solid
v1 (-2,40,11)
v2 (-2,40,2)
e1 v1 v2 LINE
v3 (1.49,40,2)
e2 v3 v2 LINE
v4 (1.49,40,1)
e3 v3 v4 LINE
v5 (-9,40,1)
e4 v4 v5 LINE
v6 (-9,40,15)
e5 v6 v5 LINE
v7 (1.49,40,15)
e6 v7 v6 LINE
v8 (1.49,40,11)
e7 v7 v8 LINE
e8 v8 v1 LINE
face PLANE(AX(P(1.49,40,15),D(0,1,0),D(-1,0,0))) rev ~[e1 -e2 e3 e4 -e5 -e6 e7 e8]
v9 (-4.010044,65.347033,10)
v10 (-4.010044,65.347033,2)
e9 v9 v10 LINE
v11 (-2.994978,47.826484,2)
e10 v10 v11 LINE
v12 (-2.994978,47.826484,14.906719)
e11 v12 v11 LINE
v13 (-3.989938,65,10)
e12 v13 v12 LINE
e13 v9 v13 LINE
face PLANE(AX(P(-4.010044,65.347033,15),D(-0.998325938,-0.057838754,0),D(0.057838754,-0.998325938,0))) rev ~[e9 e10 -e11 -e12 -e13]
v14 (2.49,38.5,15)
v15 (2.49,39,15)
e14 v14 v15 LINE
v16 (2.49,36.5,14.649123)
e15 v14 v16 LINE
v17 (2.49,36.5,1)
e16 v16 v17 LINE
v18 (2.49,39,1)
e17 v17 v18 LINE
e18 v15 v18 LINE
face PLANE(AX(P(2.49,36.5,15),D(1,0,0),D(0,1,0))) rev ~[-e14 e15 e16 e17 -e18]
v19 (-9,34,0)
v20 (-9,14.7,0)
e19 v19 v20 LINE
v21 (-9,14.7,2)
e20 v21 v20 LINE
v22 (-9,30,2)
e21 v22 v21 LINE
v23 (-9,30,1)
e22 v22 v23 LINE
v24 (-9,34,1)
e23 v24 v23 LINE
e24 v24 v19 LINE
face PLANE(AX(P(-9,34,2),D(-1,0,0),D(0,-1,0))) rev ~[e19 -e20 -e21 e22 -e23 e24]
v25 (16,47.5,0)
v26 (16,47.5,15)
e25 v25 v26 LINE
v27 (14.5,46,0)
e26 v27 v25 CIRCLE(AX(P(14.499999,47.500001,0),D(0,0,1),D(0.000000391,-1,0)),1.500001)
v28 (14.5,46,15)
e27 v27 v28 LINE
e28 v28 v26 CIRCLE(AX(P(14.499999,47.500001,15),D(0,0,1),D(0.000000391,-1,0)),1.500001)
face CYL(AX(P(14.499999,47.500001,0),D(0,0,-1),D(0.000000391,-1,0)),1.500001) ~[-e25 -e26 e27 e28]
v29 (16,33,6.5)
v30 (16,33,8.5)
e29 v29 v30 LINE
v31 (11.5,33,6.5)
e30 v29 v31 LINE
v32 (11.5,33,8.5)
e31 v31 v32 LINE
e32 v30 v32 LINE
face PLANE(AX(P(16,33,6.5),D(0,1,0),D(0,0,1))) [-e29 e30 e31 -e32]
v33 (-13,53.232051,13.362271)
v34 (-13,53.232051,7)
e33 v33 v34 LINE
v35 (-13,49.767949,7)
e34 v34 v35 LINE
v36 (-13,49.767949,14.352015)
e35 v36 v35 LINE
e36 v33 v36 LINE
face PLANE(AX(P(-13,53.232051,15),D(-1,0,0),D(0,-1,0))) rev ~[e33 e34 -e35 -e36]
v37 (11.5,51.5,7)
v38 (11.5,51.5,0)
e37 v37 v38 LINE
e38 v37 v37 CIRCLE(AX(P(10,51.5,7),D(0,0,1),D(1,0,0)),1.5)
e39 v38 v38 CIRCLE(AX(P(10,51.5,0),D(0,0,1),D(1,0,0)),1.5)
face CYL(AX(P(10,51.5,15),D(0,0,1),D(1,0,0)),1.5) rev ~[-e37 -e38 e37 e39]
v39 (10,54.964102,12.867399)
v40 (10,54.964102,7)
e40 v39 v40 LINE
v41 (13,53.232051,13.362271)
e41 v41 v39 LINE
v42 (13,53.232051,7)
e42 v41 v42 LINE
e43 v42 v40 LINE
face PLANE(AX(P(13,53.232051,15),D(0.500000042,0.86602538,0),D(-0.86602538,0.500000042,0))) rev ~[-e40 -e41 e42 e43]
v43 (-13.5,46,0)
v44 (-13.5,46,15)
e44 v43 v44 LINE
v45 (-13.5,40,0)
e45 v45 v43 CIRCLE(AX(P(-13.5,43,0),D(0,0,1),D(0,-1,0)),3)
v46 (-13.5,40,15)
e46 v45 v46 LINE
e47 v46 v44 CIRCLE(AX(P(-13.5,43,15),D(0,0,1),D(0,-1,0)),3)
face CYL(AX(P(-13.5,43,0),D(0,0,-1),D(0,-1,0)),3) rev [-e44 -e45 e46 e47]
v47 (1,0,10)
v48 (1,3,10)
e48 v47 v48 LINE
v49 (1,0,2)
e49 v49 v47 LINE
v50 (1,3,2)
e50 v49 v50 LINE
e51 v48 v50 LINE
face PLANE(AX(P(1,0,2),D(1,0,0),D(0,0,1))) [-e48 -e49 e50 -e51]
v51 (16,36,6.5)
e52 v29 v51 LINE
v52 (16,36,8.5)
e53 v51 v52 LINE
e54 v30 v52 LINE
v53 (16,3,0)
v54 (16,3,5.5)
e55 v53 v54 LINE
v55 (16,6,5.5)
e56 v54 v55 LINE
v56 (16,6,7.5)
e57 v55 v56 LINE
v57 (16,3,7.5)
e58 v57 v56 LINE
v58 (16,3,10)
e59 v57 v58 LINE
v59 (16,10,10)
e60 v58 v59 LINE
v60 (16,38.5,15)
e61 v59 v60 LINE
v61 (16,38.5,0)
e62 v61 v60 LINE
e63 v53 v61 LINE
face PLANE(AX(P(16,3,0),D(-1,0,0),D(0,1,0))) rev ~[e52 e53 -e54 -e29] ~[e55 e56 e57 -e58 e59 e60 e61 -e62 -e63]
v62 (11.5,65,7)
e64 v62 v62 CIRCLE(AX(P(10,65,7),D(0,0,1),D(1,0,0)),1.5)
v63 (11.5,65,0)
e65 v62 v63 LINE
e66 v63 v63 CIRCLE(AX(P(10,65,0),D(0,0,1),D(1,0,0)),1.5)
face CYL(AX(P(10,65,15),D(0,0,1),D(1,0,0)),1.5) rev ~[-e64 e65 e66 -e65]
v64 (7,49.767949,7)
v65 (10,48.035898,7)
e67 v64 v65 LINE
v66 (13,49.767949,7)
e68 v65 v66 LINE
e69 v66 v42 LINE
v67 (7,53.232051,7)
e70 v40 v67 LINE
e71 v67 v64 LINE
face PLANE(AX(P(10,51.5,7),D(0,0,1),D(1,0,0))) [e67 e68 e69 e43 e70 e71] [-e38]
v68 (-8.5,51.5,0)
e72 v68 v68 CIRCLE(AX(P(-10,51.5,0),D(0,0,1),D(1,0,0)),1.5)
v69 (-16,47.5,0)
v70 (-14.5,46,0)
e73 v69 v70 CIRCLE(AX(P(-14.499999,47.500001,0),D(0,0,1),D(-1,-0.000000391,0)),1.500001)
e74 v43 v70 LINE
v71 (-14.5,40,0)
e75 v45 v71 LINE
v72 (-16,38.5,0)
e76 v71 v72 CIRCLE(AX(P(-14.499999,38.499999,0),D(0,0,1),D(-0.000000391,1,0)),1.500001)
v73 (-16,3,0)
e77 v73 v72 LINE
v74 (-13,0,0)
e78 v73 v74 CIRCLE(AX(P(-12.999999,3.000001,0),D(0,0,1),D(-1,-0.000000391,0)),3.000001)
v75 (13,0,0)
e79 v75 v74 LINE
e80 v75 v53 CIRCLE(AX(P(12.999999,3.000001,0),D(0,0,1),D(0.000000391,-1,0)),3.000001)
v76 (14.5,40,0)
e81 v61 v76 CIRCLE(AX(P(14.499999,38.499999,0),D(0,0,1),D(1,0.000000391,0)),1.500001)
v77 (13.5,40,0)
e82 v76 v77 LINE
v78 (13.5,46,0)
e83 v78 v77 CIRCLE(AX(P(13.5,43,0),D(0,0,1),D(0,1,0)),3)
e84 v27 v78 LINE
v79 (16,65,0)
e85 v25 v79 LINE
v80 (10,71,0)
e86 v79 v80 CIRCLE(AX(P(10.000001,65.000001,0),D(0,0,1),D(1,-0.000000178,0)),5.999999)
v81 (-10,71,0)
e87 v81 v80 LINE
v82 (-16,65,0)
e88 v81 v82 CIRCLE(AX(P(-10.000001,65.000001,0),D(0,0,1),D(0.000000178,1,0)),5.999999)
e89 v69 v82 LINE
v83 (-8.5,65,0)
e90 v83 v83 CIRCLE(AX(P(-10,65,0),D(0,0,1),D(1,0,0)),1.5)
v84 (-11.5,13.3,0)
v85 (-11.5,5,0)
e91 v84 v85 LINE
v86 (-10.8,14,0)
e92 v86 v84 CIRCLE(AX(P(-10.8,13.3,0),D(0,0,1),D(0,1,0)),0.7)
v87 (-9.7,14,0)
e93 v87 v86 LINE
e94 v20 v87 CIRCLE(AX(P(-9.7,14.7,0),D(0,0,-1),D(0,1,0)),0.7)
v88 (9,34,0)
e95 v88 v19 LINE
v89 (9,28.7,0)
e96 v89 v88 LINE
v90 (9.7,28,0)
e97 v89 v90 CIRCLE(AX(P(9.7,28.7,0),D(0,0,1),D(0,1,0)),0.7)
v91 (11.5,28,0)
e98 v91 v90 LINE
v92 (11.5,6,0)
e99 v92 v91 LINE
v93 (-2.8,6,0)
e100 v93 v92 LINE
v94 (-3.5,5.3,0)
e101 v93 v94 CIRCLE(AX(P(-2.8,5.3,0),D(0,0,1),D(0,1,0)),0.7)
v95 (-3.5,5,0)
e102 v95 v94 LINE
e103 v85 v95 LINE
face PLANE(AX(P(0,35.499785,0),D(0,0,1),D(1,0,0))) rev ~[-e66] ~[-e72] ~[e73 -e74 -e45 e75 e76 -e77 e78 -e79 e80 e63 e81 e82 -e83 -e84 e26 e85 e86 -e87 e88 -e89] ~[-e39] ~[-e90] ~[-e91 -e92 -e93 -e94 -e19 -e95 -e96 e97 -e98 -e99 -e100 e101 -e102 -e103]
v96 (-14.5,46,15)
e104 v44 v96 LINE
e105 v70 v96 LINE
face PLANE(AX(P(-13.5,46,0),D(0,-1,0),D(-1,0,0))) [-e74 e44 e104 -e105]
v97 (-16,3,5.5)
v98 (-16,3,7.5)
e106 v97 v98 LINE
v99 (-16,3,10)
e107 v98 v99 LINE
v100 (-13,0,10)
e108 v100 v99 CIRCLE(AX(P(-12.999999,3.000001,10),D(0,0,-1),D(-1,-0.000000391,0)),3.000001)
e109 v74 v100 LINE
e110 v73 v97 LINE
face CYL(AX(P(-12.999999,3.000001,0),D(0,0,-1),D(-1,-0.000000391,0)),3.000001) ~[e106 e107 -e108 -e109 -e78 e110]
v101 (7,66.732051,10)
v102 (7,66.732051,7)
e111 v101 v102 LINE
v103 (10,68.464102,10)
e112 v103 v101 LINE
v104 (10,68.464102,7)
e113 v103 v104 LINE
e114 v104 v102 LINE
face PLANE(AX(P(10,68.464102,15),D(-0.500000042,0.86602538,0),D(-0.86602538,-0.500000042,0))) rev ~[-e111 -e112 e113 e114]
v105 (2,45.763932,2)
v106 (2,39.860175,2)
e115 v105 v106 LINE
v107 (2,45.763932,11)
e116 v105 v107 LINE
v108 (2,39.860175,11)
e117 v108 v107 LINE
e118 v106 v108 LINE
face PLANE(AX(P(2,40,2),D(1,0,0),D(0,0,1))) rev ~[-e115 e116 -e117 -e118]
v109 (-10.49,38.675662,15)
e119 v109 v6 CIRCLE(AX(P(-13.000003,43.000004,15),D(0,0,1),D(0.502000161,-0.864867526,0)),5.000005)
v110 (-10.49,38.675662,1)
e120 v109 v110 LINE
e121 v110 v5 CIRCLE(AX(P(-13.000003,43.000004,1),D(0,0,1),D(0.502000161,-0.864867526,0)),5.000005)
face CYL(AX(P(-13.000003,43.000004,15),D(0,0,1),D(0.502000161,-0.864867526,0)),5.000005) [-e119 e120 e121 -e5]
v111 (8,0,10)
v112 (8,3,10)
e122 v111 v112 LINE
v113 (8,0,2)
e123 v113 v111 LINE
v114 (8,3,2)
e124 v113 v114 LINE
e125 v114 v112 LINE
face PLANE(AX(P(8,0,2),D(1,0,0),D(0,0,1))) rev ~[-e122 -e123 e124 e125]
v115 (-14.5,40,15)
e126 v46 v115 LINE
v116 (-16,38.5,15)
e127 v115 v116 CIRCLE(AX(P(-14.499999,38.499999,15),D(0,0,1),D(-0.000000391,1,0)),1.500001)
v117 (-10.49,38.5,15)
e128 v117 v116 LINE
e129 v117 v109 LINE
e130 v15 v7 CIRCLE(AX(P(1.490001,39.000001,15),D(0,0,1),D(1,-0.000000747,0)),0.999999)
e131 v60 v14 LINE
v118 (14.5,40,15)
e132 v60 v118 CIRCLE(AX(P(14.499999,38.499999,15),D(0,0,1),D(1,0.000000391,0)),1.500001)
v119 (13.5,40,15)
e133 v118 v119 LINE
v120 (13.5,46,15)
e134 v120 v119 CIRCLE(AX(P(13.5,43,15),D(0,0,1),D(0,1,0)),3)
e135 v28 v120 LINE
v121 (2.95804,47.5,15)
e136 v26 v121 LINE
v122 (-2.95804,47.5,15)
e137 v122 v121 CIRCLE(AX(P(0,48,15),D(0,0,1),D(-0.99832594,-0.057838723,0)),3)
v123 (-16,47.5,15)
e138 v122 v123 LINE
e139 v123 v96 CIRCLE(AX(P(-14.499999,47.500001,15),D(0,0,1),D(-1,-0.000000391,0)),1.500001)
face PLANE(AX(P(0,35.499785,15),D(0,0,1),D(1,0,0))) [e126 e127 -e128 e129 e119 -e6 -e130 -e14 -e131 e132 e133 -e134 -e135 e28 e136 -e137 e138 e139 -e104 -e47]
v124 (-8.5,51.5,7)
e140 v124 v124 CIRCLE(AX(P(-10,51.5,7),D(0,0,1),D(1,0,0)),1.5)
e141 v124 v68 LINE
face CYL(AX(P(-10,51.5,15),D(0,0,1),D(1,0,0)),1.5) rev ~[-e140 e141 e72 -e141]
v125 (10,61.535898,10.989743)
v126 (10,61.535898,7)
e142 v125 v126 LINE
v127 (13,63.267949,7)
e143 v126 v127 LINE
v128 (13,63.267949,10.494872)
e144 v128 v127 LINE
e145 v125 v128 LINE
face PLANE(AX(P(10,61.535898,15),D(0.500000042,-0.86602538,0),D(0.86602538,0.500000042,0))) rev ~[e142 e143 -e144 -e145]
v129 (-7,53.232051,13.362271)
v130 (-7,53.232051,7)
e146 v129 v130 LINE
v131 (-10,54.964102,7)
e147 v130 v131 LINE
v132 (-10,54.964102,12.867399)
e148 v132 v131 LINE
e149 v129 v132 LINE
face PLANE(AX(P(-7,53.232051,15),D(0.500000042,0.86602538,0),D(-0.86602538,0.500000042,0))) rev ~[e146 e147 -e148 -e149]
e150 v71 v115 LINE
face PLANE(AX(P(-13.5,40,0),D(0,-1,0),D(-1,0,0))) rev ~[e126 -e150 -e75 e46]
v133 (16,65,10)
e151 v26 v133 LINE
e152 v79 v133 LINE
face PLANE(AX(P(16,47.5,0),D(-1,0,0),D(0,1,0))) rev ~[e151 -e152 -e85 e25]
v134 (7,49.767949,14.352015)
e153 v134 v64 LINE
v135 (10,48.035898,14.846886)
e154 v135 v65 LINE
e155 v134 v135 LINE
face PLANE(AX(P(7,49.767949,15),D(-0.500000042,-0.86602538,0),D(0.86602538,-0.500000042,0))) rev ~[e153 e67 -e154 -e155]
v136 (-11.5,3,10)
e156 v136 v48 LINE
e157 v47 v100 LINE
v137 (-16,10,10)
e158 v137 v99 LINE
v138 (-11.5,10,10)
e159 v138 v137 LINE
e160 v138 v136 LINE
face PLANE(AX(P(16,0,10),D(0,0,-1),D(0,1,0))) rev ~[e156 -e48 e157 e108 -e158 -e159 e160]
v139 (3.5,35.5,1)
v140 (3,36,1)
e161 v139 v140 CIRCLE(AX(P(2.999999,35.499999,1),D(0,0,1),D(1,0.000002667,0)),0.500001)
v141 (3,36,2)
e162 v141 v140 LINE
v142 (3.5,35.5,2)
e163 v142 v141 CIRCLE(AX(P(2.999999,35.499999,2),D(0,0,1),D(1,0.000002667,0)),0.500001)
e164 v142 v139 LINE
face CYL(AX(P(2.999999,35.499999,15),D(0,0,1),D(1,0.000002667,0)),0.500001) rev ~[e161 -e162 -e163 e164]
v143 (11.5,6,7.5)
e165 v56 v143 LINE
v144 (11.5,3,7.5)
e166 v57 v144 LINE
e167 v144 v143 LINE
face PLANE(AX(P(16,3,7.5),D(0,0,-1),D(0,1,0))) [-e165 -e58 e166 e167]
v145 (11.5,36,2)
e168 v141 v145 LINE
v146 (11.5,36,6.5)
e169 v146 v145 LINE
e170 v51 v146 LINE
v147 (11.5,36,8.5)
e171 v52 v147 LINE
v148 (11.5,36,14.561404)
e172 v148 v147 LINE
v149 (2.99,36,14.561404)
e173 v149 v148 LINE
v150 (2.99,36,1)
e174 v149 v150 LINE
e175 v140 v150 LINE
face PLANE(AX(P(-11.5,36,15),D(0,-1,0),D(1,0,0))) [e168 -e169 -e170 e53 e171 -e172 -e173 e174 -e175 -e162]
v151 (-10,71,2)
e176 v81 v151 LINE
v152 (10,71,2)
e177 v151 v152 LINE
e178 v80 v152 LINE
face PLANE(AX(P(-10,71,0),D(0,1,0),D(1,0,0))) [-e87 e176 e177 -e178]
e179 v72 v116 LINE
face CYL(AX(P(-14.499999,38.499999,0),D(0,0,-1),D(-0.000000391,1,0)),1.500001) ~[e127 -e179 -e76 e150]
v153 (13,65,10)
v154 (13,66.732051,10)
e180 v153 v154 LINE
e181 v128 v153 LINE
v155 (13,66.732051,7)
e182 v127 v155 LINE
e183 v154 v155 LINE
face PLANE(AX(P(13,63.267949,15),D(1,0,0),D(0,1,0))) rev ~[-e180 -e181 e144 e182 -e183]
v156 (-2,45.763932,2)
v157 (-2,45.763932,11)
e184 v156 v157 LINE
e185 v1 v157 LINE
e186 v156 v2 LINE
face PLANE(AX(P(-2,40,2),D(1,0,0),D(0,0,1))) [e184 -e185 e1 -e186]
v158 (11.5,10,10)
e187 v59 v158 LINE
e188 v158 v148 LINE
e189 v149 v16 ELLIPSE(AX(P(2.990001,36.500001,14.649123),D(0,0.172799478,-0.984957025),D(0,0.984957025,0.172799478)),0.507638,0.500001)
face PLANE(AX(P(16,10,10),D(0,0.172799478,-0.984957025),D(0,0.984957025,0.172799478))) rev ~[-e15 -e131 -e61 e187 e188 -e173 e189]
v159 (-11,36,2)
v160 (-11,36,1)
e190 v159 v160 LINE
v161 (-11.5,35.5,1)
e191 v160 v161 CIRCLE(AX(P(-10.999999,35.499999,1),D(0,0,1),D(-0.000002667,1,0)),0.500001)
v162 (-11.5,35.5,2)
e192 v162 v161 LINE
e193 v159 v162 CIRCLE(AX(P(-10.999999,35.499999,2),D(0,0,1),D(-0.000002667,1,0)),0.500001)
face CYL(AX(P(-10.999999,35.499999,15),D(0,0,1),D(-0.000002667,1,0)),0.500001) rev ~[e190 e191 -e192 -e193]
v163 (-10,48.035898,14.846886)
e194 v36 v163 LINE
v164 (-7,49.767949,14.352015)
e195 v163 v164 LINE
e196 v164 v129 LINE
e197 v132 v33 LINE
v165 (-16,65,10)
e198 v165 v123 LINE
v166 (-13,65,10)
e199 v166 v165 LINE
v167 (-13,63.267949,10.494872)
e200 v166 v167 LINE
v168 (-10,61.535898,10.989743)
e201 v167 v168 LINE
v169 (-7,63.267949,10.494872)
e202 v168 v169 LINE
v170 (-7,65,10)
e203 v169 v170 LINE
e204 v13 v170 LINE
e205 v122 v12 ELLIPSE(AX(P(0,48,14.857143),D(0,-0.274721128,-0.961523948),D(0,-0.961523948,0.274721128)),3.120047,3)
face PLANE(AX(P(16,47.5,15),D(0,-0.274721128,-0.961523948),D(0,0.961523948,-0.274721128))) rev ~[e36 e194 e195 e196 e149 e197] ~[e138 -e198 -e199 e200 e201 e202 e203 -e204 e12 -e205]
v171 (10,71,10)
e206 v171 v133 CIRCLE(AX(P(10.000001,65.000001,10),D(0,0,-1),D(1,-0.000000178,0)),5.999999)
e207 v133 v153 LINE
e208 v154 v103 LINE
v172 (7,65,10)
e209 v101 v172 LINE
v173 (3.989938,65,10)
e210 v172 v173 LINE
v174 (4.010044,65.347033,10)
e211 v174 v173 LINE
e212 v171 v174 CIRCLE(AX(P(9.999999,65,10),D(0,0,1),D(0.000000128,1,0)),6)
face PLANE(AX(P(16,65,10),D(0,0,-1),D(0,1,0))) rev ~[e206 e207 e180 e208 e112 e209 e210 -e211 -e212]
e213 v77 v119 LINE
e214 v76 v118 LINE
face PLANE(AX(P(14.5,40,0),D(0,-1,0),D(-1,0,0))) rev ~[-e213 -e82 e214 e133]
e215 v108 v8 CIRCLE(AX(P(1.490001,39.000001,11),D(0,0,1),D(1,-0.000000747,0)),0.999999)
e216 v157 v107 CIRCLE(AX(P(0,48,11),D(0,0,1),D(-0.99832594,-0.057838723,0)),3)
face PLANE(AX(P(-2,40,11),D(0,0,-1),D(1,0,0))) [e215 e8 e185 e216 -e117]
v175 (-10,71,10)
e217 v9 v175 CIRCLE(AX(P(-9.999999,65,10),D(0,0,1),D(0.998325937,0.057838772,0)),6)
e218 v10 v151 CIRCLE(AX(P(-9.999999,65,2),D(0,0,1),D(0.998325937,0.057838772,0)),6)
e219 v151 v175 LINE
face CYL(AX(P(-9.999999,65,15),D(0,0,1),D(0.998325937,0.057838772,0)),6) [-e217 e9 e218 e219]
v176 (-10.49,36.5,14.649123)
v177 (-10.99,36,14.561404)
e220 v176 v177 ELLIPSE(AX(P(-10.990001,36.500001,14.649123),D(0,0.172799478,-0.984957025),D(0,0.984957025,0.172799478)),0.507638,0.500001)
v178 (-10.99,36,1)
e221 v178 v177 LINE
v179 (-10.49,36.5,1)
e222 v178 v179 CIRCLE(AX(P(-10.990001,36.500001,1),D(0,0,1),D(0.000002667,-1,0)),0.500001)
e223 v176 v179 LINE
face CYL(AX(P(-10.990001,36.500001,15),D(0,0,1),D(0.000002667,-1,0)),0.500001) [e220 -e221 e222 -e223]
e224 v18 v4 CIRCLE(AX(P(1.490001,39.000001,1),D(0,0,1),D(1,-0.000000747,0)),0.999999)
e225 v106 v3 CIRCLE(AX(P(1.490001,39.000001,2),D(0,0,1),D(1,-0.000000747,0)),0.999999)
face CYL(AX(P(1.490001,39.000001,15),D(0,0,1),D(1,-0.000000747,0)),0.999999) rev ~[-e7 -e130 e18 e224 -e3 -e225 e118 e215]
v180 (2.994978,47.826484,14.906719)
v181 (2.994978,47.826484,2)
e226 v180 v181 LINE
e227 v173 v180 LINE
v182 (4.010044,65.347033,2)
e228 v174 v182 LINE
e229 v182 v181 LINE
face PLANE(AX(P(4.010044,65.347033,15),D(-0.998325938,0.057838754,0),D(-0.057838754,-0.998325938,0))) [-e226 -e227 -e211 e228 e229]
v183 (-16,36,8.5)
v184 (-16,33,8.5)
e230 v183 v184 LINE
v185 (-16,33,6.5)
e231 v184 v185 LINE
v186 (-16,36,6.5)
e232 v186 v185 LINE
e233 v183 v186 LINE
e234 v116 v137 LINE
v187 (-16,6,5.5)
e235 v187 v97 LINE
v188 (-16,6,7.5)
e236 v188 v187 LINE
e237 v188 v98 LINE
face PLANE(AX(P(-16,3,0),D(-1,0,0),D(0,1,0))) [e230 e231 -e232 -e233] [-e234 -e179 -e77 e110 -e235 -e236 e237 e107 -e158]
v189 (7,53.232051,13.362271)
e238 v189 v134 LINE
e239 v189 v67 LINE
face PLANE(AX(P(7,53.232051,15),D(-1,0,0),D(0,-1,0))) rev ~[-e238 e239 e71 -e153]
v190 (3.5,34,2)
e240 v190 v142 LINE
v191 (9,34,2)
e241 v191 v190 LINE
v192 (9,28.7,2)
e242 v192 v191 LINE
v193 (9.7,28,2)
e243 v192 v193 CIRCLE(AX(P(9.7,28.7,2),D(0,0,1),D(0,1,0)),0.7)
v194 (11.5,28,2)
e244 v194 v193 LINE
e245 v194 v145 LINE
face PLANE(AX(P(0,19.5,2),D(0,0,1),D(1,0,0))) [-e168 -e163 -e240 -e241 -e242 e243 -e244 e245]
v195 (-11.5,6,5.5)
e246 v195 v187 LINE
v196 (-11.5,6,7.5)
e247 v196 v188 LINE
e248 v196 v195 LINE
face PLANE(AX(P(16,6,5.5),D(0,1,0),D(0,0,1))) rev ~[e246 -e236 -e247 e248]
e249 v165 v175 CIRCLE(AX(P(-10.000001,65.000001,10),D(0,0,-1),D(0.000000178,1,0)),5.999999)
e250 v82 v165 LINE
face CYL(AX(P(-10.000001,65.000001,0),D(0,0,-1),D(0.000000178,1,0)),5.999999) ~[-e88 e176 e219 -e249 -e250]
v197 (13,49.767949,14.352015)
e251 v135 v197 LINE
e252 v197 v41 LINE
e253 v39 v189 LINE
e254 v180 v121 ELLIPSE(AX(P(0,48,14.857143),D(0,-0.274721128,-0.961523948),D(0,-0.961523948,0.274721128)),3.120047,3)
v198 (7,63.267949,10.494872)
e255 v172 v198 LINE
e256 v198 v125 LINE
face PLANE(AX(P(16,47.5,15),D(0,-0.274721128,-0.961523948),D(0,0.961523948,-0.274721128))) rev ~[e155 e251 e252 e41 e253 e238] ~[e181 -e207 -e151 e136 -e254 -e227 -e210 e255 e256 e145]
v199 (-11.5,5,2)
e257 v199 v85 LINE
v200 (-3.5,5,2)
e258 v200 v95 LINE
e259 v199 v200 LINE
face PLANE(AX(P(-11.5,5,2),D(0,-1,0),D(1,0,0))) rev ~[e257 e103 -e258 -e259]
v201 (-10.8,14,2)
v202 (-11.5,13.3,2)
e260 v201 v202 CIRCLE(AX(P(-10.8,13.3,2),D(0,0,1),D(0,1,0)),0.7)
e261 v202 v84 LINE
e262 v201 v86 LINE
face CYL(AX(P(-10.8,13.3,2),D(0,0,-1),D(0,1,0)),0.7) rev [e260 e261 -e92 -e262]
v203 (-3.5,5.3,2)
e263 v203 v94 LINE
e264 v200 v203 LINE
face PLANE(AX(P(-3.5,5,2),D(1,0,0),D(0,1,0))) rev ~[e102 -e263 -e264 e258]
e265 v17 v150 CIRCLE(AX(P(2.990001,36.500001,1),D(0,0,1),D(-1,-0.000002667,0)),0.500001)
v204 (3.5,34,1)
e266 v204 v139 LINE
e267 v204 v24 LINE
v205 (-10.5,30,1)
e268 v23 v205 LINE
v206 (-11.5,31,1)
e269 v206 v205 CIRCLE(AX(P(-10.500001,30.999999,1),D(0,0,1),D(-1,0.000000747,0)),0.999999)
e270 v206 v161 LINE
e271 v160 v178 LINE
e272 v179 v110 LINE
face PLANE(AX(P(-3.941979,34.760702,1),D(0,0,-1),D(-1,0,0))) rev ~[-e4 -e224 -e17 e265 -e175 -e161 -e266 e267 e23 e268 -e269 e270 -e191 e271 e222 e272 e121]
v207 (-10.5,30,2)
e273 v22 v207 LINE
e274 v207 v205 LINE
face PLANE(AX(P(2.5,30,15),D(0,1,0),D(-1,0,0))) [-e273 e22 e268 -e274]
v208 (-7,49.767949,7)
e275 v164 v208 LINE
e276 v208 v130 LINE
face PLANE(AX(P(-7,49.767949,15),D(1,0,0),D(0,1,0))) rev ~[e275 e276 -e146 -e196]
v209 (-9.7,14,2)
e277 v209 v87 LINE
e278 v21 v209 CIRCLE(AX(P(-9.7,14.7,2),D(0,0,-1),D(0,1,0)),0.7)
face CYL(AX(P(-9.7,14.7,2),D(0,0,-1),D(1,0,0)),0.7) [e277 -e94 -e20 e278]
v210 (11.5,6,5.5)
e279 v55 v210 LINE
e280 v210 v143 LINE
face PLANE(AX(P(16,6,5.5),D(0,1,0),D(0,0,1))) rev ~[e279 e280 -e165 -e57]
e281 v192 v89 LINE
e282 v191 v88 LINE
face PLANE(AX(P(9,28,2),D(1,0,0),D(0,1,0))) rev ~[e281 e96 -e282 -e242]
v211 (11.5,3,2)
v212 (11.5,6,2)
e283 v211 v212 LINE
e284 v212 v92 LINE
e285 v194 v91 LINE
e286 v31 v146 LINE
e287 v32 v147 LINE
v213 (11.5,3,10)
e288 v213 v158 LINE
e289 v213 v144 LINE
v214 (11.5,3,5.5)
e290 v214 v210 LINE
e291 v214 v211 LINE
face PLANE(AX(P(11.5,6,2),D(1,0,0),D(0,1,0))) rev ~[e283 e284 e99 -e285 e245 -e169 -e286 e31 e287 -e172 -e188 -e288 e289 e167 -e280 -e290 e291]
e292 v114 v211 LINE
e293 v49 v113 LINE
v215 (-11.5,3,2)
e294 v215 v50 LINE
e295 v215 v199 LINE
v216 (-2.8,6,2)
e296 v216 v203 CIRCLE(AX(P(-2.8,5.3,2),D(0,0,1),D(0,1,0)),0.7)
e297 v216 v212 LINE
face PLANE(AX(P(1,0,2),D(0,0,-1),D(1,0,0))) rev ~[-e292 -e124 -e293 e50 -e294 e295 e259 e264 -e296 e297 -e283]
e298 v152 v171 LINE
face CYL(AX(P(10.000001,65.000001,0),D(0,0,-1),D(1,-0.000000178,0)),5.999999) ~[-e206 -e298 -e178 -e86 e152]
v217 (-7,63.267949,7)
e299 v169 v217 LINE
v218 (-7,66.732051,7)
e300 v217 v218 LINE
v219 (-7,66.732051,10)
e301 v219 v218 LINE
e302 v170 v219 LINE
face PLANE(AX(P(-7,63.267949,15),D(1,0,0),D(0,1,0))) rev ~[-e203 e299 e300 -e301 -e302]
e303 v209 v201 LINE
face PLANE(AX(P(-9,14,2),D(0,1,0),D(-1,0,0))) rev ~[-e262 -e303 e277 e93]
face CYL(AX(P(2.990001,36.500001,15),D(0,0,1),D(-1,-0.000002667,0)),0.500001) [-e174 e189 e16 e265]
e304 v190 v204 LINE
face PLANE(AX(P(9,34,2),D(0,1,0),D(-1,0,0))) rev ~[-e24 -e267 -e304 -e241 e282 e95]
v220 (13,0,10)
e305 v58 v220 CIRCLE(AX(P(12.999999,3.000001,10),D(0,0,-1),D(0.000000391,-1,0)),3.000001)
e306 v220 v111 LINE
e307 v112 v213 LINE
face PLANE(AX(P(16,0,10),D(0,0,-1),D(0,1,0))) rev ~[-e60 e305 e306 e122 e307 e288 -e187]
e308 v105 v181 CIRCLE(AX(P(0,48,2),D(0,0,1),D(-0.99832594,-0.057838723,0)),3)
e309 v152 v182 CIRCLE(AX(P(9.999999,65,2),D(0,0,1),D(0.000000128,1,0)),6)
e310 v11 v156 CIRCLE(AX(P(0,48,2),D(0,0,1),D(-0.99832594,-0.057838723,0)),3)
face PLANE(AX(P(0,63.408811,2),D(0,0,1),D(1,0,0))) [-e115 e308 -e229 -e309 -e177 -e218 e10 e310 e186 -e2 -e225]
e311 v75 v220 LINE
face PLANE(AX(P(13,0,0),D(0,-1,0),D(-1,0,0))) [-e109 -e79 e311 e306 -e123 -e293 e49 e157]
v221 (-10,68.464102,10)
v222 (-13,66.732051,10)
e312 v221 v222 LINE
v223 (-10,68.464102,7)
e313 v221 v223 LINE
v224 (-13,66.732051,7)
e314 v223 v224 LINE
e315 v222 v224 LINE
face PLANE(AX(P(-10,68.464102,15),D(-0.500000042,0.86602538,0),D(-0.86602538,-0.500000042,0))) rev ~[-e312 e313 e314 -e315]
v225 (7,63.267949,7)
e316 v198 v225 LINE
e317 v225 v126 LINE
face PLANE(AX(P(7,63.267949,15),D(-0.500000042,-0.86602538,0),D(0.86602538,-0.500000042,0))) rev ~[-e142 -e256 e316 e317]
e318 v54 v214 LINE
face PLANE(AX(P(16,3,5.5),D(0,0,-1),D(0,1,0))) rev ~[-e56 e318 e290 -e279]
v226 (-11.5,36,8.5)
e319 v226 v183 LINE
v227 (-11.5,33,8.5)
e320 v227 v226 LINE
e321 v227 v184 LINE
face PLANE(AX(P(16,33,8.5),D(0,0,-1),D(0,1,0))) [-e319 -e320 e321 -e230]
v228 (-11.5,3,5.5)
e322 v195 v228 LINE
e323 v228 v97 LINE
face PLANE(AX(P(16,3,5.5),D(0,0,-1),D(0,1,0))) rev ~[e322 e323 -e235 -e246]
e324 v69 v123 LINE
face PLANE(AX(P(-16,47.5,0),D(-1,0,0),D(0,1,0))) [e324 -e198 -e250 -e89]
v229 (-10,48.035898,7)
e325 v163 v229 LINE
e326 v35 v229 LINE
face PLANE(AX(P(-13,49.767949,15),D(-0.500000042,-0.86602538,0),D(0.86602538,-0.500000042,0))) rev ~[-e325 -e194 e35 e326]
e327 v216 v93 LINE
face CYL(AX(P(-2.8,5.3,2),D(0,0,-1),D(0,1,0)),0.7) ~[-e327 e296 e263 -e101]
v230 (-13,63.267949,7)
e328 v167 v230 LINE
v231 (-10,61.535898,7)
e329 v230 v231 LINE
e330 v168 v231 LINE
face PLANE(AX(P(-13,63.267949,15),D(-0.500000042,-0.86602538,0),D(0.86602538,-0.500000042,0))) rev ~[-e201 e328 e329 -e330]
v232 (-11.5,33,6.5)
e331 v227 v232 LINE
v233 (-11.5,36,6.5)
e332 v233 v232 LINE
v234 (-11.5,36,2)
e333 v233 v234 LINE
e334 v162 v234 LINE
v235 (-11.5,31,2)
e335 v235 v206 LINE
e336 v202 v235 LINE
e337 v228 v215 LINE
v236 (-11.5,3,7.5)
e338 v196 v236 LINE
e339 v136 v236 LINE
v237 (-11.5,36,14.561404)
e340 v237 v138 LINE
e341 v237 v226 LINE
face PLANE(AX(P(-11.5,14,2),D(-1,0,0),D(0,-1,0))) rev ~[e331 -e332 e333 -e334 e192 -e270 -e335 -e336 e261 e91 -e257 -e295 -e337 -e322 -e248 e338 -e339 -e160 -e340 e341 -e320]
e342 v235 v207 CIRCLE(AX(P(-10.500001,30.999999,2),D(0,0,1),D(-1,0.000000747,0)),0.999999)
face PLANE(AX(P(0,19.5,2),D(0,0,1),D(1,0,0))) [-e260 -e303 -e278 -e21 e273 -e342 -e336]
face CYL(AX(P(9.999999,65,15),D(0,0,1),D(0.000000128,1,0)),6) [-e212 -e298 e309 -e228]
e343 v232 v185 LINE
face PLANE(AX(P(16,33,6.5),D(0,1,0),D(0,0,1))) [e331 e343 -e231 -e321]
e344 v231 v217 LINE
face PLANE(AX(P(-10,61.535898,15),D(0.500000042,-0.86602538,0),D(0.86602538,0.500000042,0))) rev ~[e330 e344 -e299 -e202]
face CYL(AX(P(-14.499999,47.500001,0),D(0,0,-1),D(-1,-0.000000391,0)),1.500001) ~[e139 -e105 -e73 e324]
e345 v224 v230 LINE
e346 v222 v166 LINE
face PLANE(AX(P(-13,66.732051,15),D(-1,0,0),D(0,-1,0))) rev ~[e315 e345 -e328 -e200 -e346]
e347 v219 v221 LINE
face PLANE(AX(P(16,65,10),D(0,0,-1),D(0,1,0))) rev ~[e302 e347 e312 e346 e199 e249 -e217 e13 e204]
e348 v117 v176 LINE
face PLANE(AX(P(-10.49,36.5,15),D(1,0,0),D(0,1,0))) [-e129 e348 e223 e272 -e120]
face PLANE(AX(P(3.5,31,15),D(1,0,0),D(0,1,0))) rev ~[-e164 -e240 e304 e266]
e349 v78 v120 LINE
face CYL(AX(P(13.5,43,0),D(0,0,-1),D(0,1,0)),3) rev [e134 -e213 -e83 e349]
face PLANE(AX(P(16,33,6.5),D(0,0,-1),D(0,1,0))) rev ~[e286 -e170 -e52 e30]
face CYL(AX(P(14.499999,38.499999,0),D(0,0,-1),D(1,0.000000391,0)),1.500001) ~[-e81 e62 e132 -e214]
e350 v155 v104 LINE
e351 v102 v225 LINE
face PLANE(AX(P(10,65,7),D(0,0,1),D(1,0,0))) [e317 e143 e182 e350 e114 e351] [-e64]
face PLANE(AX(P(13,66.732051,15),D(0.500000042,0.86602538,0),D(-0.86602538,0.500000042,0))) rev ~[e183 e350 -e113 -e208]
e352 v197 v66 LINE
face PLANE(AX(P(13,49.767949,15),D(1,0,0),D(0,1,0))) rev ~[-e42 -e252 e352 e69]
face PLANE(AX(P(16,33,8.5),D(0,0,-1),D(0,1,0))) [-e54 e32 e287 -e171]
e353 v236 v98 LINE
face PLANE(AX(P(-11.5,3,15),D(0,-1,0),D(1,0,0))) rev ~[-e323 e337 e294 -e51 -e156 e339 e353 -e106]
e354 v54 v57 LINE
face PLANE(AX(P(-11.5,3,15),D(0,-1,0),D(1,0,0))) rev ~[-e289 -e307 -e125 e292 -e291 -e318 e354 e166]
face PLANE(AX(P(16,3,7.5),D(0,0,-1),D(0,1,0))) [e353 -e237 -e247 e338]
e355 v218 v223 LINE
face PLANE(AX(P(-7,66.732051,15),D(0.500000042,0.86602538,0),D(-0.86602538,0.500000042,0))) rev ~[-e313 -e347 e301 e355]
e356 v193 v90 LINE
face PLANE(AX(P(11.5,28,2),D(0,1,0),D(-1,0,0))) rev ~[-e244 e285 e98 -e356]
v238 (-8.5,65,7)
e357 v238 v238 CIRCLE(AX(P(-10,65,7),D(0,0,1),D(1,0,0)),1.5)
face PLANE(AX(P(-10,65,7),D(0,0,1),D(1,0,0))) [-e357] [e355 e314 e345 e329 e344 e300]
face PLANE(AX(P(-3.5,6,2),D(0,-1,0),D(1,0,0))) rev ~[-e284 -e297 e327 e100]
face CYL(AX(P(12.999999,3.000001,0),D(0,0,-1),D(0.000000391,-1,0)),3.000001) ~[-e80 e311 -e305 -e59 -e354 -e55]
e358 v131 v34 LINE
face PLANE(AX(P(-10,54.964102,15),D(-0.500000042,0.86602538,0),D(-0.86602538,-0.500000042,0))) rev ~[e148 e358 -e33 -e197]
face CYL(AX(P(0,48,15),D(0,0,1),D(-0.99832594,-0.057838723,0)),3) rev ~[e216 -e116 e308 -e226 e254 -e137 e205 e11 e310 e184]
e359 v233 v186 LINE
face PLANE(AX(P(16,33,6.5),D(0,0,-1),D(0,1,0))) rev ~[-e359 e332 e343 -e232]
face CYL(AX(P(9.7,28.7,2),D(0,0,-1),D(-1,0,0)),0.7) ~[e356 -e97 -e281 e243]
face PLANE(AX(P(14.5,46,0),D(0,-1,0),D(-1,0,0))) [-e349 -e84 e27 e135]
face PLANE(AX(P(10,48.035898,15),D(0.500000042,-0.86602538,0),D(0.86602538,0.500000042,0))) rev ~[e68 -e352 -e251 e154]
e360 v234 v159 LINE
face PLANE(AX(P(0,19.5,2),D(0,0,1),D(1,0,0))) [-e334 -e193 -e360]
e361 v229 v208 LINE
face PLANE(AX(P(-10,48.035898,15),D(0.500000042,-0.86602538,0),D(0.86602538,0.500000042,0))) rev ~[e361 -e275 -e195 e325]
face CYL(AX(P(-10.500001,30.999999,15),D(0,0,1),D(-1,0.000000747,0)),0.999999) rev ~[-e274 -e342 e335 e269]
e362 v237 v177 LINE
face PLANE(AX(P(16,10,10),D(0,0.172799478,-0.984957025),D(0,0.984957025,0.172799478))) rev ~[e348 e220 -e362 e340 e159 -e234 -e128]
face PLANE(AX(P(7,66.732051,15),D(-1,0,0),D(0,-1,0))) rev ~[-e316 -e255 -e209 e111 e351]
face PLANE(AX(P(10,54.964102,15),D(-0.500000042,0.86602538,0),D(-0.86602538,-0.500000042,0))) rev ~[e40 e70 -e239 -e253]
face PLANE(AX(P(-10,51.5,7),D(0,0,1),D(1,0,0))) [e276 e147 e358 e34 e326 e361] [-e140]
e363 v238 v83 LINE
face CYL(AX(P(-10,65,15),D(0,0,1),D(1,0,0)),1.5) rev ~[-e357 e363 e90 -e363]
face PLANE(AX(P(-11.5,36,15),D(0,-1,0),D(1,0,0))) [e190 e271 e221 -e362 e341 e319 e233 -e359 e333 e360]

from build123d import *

# Parameters (mm, degrees)
PAD_DEPTH       = 15
SKETCH001_W     = 23
SKETCH001_H     = 33
POCKET_DEPTH    = 13
SKETCH002_R     = 1.5
HOLE_DEPTH      = 25
POCKET001_DEPTH = 8
POCKET002_DEPTH = 5
SKETCH006_W     = 7
SKETCH006_H     = 8
POCKET004_DEPTH = 5
SKETCH007_W     = 3
SKETCH007_H     = 2
POCKET005_DEPTH = 50
POCKET006_DEPTH = 50
FILLET_R        = 0.7
POCKET008_DEPTH = 14
SKETCH009_W     = 4
SKETCH009_H     = 9
POCKET009_DEPTH = 6.5
FILLET001_R     = 0.7
FILLET002_R     = 0.7


with BuildPart() as part:
    # Sketch → Pad (new body)
    with BuildSketch(Plane.XY):
        with BuildLine():
            ThreePointArc((14.5, 46), (15.56066, 46.43934), (16, 47.5))
            Line((16, 47.5), (16, 65))
            ThreePointArc((16, 65), (14.242641, 69.242641), (10, 71))
            Line((-10, 71), (10, 71))
            ThreePointArc((-10, 71), (-14.242641, 69.242641), (-16, 65))
            Line((-16, 47.5), (-16, 65))
            ThreePointArc((-16, 47.5), (-15.56066, 46.43934), (-14.5, 46))
            Line((-13.5, 46), (-14.5, 46))
            ThreePointArc((-13.5, 40), (-10.5, 43), (-13.5, 46))
            Line((-13.5, 40), (-14.5, 40))
            ThreePointArc((-14.5, 40), (-15.56066, 39.56066), (-16, 38.5))
            Line((-16, 3), (-16, 38.5))
            ThreePointArc((-16, 3), (-15.12132, 0.87868), (-13, 0))
            Line((13, 0), (-13, 0))
            ThreePointArc((13, 0), (15.12132, 0.87868), (16, 3))
            Line((16, 3), (16, 38.5))
            ThreePointArc((16, 38.5), (15.56066, 39.56066), (14.5, 40))
            Line((14.5, 40), (13.5, 40))
            ThreePointArc((13.5, 46), (10.5, 43), (13.5, 40))
            Line((14.5, 46), (13.5, 46))
        make_face()
    extrude(amount=PAD_DEPTH)

    # Sketch001 (on Face22 of Pad) → Pocket (cut)
    with BuildSketch(Plane.XY.offset(15)):
        with Locations((0, 19.5)):
            Rectangle(SKETCH001_W, SKETCH001_H)
        with BuildLine():
            Line((-4.010044, 65.347033), (-2.994978, 47.826484))
            ThreePointArc((-2.994978, 47.826484), (0, 45), (2.994978, 47.826484))
            Line((4.010044, 65.347033), (2.994978, 47.826484))
            ThreePointArc((10, 71), (5.881881, 69.363611), (4.010044, 65.347033))
            Line((10, 74.59), (10, 71))
            Line((-10, 74.59), (10, 74.59))
            Line((-10, 71), (-10, 74.59))
            ThreePointArc((-4.010044, 65.347033), (-5.881881, 69.363611), (-10, 71))
        make_face()
    extrude(amount=-POCKET_DEPTH, mode=Mode.SUBTRACT)

    # Sketch002 (on Face5 of Pocket) → Hole (cut)
    with BuildSketch(Plane.XY.offset(15)):
        with Locations((-10, 65)):
            Circle(SKETCH002_R)
        with Locations((10, 65)):
            Circle(SKETCH002_R)
        with Locations((-10, 51.5)):
            Circle(SKETCH002_R)
        with Locations((10, 51.5)):
            Circle(SKETCH002_R)
    extrude(amount=-HOLE_DEPTH, mode=Mode.SUBTRACT)

    # Sketch003 (on Face5 of Hole) → Pocket001 (cut)
    with BuildSketch(Plane.XY.offset(15)):
        Polygon((-7, 63.267949), (-7, 66.732051), (-10, 68.464102), (-13, 66.732051), (-13, 63.267949), (-10, 61.535898), align=None)
        Polygon((-7, 49.767949), (-7, 53.232051), (-10, 54.964102), (-13, 53.232051), (-13, 49.767949), (-10, 48.035898), align=None)
        Polygon((13, 49.767949), (13, 53.232051), (10, 54.964102), (7, 53.232051), (7, 49.767949), (10, 48.035898), align=None)
        Polygon((13, 63.267949), (13, 66.732051), (10, 68.464102), (7, 66.732051), (7, 63.267949), (10, 61.535898), align=None)
    extrude(amount=-POCKET001_DEPTH, mode=Mode.SUBTRACT)

    # Sketch004 (on Face65 of Pocket001) → Pocket002 (cut)
    with BuildSketch(Plane.XY.offset(2)):
        Polygon((-11.5, 5), (-3.5, 5), (-3.5, 6), (11.5, 6), (11.5, 28), (9, 28), (9, 34), (-9, 34), (-9, 14), (-11.5, 14), align=None)
    extrude(amount=-POCKET002_DEPTH, mode=Mode.SUBTRACT)

    # Sketch006 → Pocket004 (cut)
    with BuildSketch(Plane.XZ):
        with Locations((4.5, 6)):
            Rectangle(SKETCH006_W, SKETCH006_H)
    extrude(amount=-POCKET004_DEPTH, mode=Mode.SUBTRACT)

    # Sketch007 (on Face12 of Pocket004) → Pocket005 (cut)
    with BuildSketch(Plane.YZ.offset(16)):
        with Locations((4.5, 6.5)):
            Rectangle(SKETCH007_W, SKETCH007_H)
        with Locations((34.5, 7.5)):
            Rectangle(SKETCH007_W, SKETCH007_H)
    extrude(amount=-POCKET005_DEPTH, mode=Mode.SUBTRACT)

    # Sketch008 (on Face12 of Pocket005) → Pocket006 (cut)
    with BuildSketch(Plane.YZ.offset(16)):
        Polygon((0, 10), (10, 10), (38.5, 15), (47.5, 15), (65, 10), (71, 10), (71, 16.83), (0, 16.83), align=None)
    extrude(amount=-POCKET006_DEPTH, mode=Mode.SUBTRACT)

    # Fillet
    fillet_edges = [part.edges().sort_by_distance(p)[0] for p in [
        (-9, 14, 1),
        (-11.5, 14, 1),
    ]]
    fillet(fillet_edges, radius=FILLET_R)

    # MirroredSketch → Pocket008 (cut)
    with BuildSketch(Plane.XY.offset(15)):
        with BuildLine():
            Line((2.5, 30), (-10.5, 30))
            ThreePointArc((-11.5, 31), (-11.207107, 30.292893), (-10.5, 30))
            Line((-11.5, 31), (-11.5, 35.5))
            ThreePointArc((-11, 36), (-11.353553, 35.853553), (-11.5, 35.5))
            Line((-11, 36), (-10.99, 36))
            ThreePointArc((-10.99, 36), (-10.636447, 36.146447), (-10.49, 36.5))
            Line((-10.49, 36.5), (-10.49, 38.675662))
            ThreePointArc((-10.49, 38.675662), (-9.67833, 39.262821), (-9, 40))
            Line((1.49, 40), (-9, 40))
            ThreePointArc((2.49, 39), (2.197107, 39.707107), (1.49, 40))
            Line((2.49, 36.5), (2.49, 39))
            ThreePointArc((2.49, 36.5), (2.636447, 36.146447), (2.99, 36))
            Line((3, 36), (2.99, 36))
            ThreePointArc((3.5, 35.5), (3.353553, 35.853553), (3, 36))
            Line((3.5, 31), (3.5, 35.5))
            ThreePointArc((2.5, 30), (3.207107, 30.292893), (3.5, 31))
        make_face()
    extrude(amount=-POCKET008_DEPTH, mode=Mode.SUBTRACT)

    # Sketch009 (on Face88 of Pocket008) → Pocket009 (cut, symmetric)
    with BuildSketch(Plane.XZ.offset(-40)):
        with Locations((0, 6.5)):
            Rectangle(SKETCH009_W, SKETCH009_H)
    extrude(amount=POCKET009_DEPTH, both=True, mode=Mode.SUBTRACT)

    # Fillet001
    fillet001_edges = [part.edges().sort_by_distance(p)[0] for p in [
        (9, 28, 1),
    ]]
    fillet(fillet001_edges, radius=FILLET001_R)

    # Fillet002
    fillet002_edges = [part.edges().sort_by_distance(p)[0] for p in [
        (-3.5, 6, 1),
    ]]
    fillet(fillet002_edges, radius=FILLET002_R)


solid = part.part
